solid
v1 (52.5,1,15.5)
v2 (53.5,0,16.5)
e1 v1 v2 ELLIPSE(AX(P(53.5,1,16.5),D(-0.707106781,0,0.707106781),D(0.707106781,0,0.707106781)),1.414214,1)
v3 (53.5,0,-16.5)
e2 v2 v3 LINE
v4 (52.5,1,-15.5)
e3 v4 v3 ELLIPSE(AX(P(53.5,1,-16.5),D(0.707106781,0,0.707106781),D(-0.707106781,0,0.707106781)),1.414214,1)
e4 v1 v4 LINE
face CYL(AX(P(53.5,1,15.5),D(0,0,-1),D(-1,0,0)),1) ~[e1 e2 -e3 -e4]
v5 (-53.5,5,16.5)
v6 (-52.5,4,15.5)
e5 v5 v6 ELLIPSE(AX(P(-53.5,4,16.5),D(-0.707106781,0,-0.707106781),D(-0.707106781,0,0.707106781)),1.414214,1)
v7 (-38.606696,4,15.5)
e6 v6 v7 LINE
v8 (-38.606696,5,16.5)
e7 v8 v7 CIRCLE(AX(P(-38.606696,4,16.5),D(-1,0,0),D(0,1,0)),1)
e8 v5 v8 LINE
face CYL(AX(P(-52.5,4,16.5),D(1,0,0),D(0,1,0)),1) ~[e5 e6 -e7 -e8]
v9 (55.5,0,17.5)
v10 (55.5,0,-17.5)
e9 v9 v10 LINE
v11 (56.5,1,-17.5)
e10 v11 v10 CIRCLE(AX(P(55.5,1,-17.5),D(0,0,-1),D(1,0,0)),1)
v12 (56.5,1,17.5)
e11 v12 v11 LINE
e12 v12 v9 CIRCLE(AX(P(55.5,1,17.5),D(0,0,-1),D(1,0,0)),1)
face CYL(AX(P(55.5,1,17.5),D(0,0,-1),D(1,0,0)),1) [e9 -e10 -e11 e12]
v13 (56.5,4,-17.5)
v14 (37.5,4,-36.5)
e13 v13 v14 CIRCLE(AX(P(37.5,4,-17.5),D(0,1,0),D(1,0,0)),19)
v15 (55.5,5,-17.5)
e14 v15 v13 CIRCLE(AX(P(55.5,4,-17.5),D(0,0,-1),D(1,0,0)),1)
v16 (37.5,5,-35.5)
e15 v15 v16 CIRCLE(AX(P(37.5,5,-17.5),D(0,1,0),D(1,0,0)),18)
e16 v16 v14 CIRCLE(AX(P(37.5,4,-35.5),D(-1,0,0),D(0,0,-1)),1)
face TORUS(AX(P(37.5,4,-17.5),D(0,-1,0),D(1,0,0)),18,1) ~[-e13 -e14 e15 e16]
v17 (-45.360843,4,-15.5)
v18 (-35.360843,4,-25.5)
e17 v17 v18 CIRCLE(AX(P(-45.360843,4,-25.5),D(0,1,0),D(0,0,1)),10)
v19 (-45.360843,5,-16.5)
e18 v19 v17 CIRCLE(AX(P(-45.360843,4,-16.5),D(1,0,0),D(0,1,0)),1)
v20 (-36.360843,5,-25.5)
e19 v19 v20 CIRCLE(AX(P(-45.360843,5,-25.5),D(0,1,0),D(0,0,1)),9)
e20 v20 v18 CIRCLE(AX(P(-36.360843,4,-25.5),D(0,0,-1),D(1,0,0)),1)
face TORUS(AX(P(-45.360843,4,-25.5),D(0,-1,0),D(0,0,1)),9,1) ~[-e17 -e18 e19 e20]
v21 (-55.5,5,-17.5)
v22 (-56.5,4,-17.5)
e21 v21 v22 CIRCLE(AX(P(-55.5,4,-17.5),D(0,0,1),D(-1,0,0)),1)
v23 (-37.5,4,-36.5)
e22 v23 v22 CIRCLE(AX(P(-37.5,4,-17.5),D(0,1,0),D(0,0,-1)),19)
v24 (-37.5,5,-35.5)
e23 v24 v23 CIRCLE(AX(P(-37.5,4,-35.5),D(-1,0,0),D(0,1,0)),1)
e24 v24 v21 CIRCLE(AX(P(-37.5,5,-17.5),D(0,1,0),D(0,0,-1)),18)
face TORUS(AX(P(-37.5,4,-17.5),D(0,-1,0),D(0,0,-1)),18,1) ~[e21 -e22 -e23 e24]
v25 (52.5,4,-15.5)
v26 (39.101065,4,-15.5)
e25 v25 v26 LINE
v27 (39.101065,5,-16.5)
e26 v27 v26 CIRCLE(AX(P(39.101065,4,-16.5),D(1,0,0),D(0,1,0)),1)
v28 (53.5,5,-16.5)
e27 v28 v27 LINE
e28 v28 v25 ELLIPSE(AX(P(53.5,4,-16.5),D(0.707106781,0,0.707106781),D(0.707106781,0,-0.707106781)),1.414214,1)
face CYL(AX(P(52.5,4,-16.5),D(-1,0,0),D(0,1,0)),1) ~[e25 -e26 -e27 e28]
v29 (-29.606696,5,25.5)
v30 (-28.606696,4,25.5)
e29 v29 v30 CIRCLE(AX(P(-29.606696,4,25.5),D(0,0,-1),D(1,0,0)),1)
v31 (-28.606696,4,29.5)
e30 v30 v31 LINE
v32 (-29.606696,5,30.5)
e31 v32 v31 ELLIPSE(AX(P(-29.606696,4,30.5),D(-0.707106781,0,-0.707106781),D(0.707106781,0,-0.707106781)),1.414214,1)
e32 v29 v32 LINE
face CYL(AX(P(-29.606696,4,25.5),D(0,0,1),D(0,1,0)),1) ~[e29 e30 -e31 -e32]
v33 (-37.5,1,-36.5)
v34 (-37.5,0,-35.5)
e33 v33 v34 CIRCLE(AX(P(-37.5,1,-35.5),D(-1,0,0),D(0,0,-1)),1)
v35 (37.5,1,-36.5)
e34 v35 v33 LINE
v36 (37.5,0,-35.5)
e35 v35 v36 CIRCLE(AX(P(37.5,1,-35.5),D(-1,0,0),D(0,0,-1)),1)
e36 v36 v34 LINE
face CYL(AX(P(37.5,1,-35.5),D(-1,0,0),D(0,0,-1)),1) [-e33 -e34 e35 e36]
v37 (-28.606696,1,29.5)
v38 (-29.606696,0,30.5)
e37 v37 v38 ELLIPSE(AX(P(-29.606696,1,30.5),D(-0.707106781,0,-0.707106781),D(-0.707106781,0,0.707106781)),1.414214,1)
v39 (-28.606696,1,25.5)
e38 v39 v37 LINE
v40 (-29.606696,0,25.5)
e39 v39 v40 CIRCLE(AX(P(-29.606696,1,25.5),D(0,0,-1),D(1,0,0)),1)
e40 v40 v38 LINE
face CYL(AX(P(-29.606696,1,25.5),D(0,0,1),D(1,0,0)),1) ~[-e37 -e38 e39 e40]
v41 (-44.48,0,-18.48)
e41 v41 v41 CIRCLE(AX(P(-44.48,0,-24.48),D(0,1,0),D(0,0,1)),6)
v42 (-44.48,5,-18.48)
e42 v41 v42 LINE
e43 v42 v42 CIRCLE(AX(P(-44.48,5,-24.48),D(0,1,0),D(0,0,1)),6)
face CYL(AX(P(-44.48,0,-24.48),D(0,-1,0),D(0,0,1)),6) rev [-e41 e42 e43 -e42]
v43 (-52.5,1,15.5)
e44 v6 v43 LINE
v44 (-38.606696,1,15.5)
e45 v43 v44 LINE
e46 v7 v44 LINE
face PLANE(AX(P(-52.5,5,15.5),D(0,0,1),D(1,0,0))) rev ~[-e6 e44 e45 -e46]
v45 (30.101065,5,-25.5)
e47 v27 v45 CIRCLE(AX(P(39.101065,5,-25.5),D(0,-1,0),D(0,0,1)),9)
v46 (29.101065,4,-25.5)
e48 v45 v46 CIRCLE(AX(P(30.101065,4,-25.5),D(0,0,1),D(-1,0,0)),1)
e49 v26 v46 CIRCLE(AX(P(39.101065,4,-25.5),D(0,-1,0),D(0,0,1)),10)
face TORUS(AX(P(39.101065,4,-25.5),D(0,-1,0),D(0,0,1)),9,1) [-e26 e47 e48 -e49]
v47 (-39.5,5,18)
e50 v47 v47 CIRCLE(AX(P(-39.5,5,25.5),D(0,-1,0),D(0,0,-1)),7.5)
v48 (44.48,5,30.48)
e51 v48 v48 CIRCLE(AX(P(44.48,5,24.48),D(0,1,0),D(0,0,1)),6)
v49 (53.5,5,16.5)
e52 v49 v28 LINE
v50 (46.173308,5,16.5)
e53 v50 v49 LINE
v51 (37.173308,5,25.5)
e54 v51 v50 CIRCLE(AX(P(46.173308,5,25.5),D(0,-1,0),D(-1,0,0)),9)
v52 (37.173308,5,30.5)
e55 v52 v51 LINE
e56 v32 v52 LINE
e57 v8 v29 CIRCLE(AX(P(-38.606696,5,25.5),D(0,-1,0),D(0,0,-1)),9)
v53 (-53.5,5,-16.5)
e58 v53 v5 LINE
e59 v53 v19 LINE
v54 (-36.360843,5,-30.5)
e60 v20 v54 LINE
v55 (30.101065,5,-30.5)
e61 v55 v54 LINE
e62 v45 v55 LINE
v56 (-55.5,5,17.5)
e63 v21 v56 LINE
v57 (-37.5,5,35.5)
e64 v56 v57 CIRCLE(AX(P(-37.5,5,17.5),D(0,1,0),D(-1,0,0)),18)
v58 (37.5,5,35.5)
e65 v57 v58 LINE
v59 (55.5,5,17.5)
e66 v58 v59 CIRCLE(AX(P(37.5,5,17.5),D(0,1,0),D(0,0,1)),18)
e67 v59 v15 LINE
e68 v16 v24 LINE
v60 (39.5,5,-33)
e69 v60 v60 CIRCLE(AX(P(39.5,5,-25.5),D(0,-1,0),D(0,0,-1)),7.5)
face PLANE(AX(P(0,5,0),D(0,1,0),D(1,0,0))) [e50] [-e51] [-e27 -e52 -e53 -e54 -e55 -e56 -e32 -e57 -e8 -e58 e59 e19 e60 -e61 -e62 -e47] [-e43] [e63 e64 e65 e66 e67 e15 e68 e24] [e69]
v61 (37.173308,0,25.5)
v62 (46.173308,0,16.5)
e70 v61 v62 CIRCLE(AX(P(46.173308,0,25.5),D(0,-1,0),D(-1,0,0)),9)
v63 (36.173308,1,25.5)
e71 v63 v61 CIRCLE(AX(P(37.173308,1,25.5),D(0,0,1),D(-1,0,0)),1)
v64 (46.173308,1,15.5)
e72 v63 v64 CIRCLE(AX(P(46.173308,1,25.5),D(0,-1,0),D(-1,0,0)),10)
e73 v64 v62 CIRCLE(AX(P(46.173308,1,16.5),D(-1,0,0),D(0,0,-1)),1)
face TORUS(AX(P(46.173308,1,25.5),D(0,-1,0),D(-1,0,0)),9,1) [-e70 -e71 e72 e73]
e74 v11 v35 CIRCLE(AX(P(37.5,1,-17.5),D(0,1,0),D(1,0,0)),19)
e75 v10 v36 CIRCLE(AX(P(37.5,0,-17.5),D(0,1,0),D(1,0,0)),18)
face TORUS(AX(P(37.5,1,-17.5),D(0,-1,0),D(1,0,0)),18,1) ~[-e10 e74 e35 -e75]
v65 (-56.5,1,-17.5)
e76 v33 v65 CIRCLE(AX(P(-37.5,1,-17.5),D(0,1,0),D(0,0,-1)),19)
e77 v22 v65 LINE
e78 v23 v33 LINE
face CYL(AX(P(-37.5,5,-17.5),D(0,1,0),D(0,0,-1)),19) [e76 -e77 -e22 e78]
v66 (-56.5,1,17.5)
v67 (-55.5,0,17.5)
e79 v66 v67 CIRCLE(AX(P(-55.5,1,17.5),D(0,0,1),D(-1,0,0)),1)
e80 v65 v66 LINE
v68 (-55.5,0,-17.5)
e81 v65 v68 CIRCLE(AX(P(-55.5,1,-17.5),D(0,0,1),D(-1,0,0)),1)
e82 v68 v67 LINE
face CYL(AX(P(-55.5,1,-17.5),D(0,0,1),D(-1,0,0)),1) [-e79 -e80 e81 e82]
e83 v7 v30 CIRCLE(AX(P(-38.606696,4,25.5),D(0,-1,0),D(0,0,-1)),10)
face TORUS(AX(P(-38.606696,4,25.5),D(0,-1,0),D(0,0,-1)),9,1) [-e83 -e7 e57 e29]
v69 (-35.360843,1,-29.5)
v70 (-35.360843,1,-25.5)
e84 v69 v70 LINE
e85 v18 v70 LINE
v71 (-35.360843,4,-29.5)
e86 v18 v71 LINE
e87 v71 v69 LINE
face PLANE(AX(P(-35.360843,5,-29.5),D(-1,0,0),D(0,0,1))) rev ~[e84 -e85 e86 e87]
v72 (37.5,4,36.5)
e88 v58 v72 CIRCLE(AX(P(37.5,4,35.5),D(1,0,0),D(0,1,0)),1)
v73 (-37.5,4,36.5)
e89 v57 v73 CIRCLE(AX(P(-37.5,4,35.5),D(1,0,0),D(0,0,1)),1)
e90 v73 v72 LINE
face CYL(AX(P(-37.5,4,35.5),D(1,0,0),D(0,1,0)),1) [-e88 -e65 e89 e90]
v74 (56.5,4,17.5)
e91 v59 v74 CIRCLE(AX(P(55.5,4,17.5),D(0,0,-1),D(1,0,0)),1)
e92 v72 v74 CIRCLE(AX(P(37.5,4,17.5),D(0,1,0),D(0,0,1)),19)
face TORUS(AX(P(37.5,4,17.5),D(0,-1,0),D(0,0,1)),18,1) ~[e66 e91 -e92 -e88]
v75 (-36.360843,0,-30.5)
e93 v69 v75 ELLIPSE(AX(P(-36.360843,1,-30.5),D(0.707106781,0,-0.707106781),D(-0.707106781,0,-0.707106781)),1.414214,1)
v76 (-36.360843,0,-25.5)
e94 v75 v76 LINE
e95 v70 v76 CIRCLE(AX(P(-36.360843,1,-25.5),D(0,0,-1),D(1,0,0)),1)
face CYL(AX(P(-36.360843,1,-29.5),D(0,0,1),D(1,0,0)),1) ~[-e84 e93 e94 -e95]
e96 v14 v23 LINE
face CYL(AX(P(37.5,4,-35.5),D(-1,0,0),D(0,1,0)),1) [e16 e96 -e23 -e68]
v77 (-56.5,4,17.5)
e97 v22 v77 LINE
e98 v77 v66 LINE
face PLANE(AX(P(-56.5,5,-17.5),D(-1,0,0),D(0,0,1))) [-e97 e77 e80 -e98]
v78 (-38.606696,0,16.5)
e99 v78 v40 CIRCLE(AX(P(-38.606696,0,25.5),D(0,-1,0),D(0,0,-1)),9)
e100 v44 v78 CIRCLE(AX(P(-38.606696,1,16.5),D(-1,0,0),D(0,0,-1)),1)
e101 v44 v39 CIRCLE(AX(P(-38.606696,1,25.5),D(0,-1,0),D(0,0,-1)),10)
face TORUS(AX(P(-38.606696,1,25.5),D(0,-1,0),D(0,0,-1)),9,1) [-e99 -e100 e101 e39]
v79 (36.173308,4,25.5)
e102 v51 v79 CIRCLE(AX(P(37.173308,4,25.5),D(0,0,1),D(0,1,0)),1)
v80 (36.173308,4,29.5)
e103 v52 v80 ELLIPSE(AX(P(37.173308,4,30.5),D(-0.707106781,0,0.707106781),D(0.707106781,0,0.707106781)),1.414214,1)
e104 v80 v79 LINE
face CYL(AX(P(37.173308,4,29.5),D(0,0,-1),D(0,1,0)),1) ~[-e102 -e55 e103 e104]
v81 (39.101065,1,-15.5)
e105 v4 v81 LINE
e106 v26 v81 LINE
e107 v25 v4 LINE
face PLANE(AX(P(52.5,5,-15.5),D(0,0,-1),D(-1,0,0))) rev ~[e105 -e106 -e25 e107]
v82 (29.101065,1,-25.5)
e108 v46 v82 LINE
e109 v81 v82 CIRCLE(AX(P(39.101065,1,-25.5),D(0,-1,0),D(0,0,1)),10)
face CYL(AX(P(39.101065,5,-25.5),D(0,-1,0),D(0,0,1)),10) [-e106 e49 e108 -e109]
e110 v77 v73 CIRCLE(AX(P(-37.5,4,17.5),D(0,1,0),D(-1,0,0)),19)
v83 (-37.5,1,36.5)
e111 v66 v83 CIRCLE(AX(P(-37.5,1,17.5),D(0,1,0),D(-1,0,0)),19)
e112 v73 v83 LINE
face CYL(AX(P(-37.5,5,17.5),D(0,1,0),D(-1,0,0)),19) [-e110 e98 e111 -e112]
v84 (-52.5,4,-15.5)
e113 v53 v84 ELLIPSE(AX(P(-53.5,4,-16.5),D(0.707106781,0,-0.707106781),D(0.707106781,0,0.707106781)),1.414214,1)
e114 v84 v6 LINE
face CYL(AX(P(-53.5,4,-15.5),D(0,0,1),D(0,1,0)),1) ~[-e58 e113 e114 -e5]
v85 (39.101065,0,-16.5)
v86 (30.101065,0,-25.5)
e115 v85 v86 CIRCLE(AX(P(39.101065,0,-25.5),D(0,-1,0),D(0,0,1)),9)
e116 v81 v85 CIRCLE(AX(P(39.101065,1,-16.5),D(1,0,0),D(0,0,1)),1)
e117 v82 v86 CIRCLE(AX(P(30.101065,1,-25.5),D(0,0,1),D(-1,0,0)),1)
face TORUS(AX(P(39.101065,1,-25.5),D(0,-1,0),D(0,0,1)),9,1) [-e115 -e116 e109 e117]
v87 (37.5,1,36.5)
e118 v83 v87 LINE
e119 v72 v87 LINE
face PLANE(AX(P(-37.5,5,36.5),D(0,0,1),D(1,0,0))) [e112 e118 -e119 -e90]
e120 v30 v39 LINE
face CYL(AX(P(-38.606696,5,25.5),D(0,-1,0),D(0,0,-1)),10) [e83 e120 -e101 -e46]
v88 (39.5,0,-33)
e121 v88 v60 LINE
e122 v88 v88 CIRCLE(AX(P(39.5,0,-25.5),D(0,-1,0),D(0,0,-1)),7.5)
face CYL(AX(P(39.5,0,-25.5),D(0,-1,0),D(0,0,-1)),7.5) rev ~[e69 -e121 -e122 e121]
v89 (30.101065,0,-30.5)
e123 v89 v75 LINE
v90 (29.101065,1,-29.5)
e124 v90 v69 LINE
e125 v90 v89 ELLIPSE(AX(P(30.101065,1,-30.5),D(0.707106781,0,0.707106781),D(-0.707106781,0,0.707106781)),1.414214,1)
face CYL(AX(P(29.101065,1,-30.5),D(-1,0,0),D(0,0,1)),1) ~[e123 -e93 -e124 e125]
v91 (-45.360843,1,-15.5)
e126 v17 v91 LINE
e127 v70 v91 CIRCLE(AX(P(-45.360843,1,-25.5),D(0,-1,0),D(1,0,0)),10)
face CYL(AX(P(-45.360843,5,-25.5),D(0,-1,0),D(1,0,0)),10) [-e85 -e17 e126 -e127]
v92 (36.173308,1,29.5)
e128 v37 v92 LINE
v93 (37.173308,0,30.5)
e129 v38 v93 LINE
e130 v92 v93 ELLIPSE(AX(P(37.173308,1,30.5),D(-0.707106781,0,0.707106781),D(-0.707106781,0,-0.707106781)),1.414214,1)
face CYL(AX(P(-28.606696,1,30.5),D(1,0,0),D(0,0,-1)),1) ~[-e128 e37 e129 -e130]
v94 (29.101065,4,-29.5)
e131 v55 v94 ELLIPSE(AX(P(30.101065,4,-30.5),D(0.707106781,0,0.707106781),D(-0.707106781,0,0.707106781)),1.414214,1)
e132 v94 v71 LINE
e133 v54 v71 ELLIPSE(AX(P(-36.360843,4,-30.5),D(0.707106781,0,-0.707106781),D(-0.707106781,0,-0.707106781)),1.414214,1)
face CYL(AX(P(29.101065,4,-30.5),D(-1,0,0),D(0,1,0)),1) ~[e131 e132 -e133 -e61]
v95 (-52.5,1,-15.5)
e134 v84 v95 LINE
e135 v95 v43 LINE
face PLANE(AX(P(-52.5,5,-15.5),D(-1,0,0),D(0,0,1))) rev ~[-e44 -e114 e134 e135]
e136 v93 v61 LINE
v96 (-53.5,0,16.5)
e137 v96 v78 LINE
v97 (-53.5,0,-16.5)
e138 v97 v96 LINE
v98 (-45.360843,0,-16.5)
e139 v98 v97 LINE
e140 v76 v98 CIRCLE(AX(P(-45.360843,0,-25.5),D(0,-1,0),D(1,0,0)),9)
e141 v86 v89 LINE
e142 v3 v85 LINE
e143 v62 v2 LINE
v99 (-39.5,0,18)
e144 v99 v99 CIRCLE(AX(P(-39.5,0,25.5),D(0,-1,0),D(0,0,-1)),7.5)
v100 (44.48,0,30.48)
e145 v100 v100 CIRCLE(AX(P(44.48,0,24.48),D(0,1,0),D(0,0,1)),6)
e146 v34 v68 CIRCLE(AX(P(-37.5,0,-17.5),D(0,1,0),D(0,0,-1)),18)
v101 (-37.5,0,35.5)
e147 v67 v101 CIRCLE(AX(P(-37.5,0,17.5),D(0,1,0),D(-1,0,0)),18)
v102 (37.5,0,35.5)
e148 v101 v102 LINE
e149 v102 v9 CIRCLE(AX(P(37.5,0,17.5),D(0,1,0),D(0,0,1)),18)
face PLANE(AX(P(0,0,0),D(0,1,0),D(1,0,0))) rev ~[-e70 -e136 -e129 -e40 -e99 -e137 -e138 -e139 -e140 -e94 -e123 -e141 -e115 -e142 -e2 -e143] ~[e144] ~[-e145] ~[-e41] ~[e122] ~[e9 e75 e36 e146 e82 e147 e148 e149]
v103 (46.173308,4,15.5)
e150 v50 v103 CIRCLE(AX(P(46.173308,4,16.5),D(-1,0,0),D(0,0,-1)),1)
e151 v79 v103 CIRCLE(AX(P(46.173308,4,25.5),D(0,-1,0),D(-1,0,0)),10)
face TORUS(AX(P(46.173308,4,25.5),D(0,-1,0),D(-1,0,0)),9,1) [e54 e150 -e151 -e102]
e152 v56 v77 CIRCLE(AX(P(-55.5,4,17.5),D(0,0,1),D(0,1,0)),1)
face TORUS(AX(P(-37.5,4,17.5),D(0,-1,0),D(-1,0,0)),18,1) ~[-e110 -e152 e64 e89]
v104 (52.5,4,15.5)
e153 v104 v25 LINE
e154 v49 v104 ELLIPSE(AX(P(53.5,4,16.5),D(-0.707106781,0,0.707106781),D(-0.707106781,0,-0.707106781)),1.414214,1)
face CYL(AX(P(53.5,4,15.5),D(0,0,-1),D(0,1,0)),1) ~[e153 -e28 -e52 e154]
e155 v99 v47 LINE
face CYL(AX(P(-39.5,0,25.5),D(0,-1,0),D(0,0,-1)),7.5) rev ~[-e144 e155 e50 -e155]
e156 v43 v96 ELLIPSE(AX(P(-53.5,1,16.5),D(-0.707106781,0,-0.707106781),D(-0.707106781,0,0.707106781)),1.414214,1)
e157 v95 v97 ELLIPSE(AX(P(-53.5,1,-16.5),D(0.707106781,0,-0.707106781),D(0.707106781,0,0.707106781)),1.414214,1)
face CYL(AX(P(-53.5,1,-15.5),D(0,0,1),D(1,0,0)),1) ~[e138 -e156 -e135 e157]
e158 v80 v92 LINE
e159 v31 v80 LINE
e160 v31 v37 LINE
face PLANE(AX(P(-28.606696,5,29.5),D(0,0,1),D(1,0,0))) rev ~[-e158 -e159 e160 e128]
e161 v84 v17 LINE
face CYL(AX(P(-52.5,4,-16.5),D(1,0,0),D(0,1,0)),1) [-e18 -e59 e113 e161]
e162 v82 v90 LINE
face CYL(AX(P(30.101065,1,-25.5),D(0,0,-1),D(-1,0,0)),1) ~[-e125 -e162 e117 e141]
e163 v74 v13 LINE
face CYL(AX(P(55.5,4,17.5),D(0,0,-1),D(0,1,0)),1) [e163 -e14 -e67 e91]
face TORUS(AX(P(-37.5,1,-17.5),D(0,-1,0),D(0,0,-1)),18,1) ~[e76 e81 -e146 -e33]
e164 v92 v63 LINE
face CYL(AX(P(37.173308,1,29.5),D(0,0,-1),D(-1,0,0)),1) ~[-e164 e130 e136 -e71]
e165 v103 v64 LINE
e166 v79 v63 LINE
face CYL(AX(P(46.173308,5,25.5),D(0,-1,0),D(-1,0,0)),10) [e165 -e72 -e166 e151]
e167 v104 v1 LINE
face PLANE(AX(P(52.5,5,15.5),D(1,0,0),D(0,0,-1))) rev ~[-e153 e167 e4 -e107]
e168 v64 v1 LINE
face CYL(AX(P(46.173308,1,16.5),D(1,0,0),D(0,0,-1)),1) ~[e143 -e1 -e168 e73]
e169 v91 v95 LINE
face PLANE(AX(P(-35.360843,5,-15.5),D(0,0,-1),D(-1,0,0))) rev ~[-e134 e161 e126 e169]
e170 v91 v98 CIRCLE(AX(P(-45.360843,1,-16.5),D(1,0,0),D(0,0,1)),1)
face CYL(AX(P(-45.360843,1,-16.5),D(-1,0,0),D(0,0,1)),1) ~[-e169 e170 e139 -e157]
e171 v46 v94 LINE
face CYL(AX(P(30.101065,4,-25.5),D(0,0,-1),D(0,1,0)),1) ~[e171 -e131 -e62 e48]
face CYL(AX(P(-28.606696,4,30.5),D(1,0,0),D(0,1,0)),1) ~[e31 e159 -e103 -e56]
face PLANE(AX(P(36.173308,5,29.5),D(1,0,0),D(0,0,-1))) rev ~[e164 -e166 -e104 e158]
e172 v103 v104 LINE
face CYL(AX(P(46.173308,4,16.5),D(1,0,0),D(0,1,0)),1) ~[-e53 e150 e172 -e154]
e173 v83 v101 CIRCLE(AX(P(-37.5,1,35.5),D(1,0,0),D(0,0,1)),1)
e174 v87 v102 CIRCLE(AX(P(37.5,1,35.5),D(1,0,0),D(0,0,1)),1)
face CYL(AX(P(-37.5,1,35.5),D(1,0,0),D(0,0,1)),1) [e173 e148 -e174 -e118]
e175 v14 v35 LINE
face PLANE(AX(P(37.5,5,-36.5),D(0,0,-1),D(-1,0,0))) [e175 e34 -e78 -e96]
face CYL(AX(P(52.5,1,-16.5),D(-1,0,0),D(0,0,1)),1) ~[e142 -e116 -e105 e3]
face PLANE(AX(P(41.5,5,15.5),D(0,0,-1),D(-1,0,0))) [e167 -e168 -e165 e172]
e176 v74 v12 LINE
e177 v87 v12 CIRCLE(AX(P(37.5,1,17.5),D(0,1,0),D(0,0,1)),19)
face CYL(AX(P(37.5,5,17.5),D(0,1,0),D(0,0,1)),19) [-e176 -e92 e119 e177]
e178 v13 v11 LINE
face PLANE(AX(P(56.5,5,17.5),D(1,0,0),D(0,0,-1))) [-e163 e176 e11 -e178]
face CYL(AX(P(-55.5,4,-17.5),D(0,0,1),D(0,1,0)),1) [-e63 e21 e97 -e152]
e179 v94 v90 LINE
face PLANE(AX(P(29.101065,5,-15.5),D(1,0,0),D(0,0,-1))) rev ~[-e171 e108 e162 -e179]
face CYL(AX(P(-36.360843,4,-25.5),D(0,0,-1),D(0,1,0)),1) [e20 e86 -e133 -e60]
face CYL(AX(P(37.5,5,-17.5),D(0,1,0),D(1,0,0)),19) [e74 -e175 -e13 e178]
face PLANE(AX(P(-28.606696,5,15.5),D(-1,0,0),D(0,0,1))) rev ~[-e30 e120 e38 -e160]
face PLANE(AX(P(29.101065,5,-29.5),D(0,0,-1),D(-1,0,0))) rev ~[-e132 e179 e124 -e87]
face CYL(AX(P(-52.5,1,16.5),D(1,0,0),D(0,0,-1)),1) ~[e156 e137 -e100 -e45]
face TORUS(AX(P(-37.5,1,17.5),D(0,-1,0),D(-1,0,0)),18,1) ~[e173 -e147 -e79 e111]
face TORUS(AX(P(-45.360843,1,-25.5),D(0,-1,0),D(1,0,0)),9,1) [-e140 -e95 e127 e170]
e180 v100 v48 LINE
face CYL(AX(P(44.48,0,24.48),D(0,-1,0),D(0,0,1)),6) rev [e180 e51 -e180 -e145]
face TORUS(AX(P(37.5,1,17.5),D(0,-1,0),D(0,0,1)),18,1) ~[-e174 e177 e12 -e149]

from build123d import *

# Parameters (mm, degrees)
SKETCH1_W           = 115
SKETCH1_H           = 75
SKETCH1_R           = 6
BOSS_EXTRUDE1_DEPTH = 5
CUT_EXTRUDE1_DEPTH  = 5
FILLET1_R           = 20
SKETCH5_R           = 7.5
CUT_EXTRUDE4_DEPTH  = 10
SKETCH9_W           = 57.70776026
SKETCH9_H           = 31
CUT_EXTRUDE5_DEPTH  = 10
FILLET2_R           = 10
CUT_EXTRUDE7_DEPTH  = 16
FILLET3_R           = 1


with BuildPart() as part:
    # Sketch1 → Boss-Extrude1 (new body)
    with BuildSketch(Plane(origin=(0, 0, 0), x_dir=(1, 0, 0), z_dir=(0, 1, 0))):
        Rectangle(SKETCH1_W, SKETCH1_H)
        with Locations(Location((-44.48, 24.48, 0), (0, 0, 270))):
            Circle(SKETCH1_R, mode=Mode.SUBTRACT)
        with Locations(Location((44.48, -24.48, 0), (0, 0, 270))):
            Circle(SKETCH1_R, mode=Mode.SUBTRACT)
    extrude(amount=BOSS_EXTRUDE1_DEPTH)

    # Sketch2 → Cut-Extrude1 (cut)
    with BuildSketch(Plane(origin=(0, 5, 0), x_dir=(1, 0, 0), z_dir=(0, 1, 0))):
        with BuildLine():
            Line((-41.5, 15.5), (41.5, 15.5))
            ThreePointArc((41.5, 15.5), (48.571067812, 12.571067812), (51.5, 5.5))
            Line((51.5, 5.5), (51.5, -5.5))
            ThreePointArc((51.5, -5.5), (48.571067812, -12.571067812), (41.5, -15.5))
            Line((41.5, -15.5), (-41.5, -15.5))
            ThreePointArc((-41.5, -15.5), (-48.571067812, -12.571067812), (-51.5, -5.5))
            Line((-51.5, -5.5), (-51.5, 5.5))
            ThreePointArc((-51.5, 5.5), (-48.571067812, 12.571067812), (-41.5, 15.5))
        make_face()
    extrude(amount=-CUT_EXTRUDE1_DEPTH, mode=Mode.SUBTRACT)

    # Fillet1
    fillet1_edges = [part.edges().sort_by_distance(p)[0] for p in [
        (57.5, 2.5, 37.5),
        (-57.5, 2.5, 37.5),
        (-57.5, 2.5, -37.5),
        (57.5, 2.5, -37.5),
    ]]
    fillet(fillet1_edges, radius=FILLET1_R)

    # Sketch5 → Cut-Extrude4 (cut)
    with BuildSketch(Plane.XZ):
        with Locations(Location((-39.5, 25.5, 0), (0, 0, 270))):
            Circle(SKETCH5_R)
        with Locations(Location((39.5, -25.5, 0), (0, 0, 270))):
            Circle(SKETCH5_R)
    extrude(amount=-CUT_EXTRUDE4_DEPTH, mode=Mode.SUBTRACT)

    # Sketch9 → Cut-Extrude5 (cut)
    with BuildSketch(Plane(origin=(0, 5, 0), x_dir=(1, 0, 0), z_dir=(0, 1, 0))):
        Polygon((-35.360842569, 29.5), (-35.360842569, 15.5), (-28.606695745, 15.5), (29.101064515, 15.5), (29.101064515, 29.5), align=None)
        Polygon((-28.606695745, 15.5), (-35.360842569, 15.5), (-52.5, 15.5), (-52.5, -15.5), (-28.606695745, -15.5), align=None)
        with Locations((0.247184385, 0)):
            Rectangle(SKETCH9_W, SKETCH9_H)
        Polygon((52.5, 15.5), (29.101064515, 15.5), (29.101064515, -15.5), (36.173307785, -15.5), (52.5, -15.5), align=None)
        Polygon((29.101064515, -15.5), (-28.606695745, -15.5), (-28.606695745, -29.5), (36.173307785, -29.5), (36.173307785, -15.5), align=None)
    extrude(amount=-CUT_EXTRUDE5_DEPTH, mode=Mode.SUBTRACT)

    # Fillet2
    fillet2_edges = [part.edges().sort_by_distance(p)[0] for p in [
        (-35.360842569, 2.5, -15.5),
        (29.101064515, 2.5, -15.5),
        (36.173307785, 2.5, 15.5),
        (-28.606695745, 2.5, 15.5),
    ]]
    fillet(fillet2_edges, radius=FILLET2_R)

    # Sketch11 → Cut-Extrude7 (cut)
    with BuildSketch(Plane(origin=(0, 5, 0), x_dir=(1, 0, 0), z_dir=(0, 1, 0))):
        with BuildLine():
            Line((57.5, -17.5), (57.5, 17.5))
            ThreePointArc((57.5, 17.5), (51.642135624, 31.642135624), (37.5, 37.5))
            Line((37.5, 37.5), (-37.5, 37.5))
            ThreePointArc((-37.5, 37.5), (-51.642135624, 31.642135624), (-57.5, 17.5))
            Line((-57.5, 17.5), (-57.5, -17.5))
            ThreePointArc((-57.5, -17.5), (-51.642135624, -31.642135624), (-37.5, -37.5))
            Line((-37.5, -37.5), (37.5, -37.5))
            ThreePointArc((37.5, -37.5), (51.642135624, -31.642135624), (57.5, -17.5))
        make_face()
        with BuildLine():
            Line((37.5, 36.5), (-37.5, 36.5))
            ThreePointArc((-37.5, 36.5), (-50.935028843, 30.935028843), (-56.5, 17.5))
            Line((-56.5, 17.5), (-56.5, -17.5))
            ThreePointArc((-56.5, -17.5), (-50.935028843, -30.935028843), (-37.5, -36.5))
            Line((-37.5, -36.5), (37.5, -36.5))
            ThreePointArc((37.5, -36.5), (50.935028843, -30.935028843), (56.5, -17.5))
            Line((56.5, -17.5), (56.5, 17.5))
            ThreePointArc((56.5, 17.5), (50.935028843, 30.935028843), (37.5, 36.5))
        make_face(mode=Mode.SUBTRACT)
    extrude(amount=-CUT_EXTRUDE7_DEPTH, mode=Mode.SUBTRACT)

    # Fillet3
    fillet3_edges = [part.edges().sort_by_distance(p)[0] for p in [
        (52.5, 5, 0),
        (3.78330602, 5, 29.5),
        (-52.5, 0, 0),
        (-3.129889027, 0, -29.5),
        (-3.129889027, 5, -29.5),
        (-52.5, 5, 0),
        (36.173307785, 0, 27.5),
        (36.173307785, 5, 27.5),
        (29.101064515, 0, -27.5),
        (-35.360842569, 0, -27.5),
        (-48.930421284, 0, -15.5),
        (-28.606695745, 0, 27.5),
        (49.336653893, 0, 15.5),
        (32.029996703, 0, -18.428932188),
        (-38.289774757, 0, -18.428932188),
        (-31.535627933, 0, 18.428932188),
        (39.102239973, 0, 18.428932188),
        (49.336653893, 5, 15.5),
        (29.101064515, 5, -27.5),
        (-28.606695745, 5, 27.5),
        (-48.930421284, 5, -15.5),
        (-35.360842569, 5, -27.5),
        (32.029996703, 5, -18.428932188),
        (-38.289774757, 5, -18.428932188),
        (-31.535627933, 5, 18.428932188),
        (39.102239973, 5, 18.428932188),
        (0, 0, -36.5),
        (-50.935028843, 0, -30.935028843),
        (-56.5, 0, 0),
        (-50.935028843, 0, 30.935028843),
        (0, 0, 36.5),
        (50.935028843, 0, 30.935028843),
        (56.5, 0, 0),
        (50.935028843, 0, -30.935028843),
        (50.935028843, 5, -30.935028843),
        (56.5, 5, 0),
        (50.935028843, 5, 30.935028843),
        (0, 5, 36.5),
        (-50.935028843, 5, 30.935028843),
        (-56.5, 5, 0),
        (-50.935028843, 5, -30.935028843),
        (0, 5, -36.5),
        (-45.553347872, 0, 15.5),
        (45.800532257, 0, -15.5),
        (45.800532257, 5, -15.5),
        (-45.553347872, 5, 15.5),
        (52.5, 0, 0),
        (3.78330602, 0, 29.5),
    ]]
    fillet(fillet3_edges, radius=FILLET3_R)


solid = part.part
